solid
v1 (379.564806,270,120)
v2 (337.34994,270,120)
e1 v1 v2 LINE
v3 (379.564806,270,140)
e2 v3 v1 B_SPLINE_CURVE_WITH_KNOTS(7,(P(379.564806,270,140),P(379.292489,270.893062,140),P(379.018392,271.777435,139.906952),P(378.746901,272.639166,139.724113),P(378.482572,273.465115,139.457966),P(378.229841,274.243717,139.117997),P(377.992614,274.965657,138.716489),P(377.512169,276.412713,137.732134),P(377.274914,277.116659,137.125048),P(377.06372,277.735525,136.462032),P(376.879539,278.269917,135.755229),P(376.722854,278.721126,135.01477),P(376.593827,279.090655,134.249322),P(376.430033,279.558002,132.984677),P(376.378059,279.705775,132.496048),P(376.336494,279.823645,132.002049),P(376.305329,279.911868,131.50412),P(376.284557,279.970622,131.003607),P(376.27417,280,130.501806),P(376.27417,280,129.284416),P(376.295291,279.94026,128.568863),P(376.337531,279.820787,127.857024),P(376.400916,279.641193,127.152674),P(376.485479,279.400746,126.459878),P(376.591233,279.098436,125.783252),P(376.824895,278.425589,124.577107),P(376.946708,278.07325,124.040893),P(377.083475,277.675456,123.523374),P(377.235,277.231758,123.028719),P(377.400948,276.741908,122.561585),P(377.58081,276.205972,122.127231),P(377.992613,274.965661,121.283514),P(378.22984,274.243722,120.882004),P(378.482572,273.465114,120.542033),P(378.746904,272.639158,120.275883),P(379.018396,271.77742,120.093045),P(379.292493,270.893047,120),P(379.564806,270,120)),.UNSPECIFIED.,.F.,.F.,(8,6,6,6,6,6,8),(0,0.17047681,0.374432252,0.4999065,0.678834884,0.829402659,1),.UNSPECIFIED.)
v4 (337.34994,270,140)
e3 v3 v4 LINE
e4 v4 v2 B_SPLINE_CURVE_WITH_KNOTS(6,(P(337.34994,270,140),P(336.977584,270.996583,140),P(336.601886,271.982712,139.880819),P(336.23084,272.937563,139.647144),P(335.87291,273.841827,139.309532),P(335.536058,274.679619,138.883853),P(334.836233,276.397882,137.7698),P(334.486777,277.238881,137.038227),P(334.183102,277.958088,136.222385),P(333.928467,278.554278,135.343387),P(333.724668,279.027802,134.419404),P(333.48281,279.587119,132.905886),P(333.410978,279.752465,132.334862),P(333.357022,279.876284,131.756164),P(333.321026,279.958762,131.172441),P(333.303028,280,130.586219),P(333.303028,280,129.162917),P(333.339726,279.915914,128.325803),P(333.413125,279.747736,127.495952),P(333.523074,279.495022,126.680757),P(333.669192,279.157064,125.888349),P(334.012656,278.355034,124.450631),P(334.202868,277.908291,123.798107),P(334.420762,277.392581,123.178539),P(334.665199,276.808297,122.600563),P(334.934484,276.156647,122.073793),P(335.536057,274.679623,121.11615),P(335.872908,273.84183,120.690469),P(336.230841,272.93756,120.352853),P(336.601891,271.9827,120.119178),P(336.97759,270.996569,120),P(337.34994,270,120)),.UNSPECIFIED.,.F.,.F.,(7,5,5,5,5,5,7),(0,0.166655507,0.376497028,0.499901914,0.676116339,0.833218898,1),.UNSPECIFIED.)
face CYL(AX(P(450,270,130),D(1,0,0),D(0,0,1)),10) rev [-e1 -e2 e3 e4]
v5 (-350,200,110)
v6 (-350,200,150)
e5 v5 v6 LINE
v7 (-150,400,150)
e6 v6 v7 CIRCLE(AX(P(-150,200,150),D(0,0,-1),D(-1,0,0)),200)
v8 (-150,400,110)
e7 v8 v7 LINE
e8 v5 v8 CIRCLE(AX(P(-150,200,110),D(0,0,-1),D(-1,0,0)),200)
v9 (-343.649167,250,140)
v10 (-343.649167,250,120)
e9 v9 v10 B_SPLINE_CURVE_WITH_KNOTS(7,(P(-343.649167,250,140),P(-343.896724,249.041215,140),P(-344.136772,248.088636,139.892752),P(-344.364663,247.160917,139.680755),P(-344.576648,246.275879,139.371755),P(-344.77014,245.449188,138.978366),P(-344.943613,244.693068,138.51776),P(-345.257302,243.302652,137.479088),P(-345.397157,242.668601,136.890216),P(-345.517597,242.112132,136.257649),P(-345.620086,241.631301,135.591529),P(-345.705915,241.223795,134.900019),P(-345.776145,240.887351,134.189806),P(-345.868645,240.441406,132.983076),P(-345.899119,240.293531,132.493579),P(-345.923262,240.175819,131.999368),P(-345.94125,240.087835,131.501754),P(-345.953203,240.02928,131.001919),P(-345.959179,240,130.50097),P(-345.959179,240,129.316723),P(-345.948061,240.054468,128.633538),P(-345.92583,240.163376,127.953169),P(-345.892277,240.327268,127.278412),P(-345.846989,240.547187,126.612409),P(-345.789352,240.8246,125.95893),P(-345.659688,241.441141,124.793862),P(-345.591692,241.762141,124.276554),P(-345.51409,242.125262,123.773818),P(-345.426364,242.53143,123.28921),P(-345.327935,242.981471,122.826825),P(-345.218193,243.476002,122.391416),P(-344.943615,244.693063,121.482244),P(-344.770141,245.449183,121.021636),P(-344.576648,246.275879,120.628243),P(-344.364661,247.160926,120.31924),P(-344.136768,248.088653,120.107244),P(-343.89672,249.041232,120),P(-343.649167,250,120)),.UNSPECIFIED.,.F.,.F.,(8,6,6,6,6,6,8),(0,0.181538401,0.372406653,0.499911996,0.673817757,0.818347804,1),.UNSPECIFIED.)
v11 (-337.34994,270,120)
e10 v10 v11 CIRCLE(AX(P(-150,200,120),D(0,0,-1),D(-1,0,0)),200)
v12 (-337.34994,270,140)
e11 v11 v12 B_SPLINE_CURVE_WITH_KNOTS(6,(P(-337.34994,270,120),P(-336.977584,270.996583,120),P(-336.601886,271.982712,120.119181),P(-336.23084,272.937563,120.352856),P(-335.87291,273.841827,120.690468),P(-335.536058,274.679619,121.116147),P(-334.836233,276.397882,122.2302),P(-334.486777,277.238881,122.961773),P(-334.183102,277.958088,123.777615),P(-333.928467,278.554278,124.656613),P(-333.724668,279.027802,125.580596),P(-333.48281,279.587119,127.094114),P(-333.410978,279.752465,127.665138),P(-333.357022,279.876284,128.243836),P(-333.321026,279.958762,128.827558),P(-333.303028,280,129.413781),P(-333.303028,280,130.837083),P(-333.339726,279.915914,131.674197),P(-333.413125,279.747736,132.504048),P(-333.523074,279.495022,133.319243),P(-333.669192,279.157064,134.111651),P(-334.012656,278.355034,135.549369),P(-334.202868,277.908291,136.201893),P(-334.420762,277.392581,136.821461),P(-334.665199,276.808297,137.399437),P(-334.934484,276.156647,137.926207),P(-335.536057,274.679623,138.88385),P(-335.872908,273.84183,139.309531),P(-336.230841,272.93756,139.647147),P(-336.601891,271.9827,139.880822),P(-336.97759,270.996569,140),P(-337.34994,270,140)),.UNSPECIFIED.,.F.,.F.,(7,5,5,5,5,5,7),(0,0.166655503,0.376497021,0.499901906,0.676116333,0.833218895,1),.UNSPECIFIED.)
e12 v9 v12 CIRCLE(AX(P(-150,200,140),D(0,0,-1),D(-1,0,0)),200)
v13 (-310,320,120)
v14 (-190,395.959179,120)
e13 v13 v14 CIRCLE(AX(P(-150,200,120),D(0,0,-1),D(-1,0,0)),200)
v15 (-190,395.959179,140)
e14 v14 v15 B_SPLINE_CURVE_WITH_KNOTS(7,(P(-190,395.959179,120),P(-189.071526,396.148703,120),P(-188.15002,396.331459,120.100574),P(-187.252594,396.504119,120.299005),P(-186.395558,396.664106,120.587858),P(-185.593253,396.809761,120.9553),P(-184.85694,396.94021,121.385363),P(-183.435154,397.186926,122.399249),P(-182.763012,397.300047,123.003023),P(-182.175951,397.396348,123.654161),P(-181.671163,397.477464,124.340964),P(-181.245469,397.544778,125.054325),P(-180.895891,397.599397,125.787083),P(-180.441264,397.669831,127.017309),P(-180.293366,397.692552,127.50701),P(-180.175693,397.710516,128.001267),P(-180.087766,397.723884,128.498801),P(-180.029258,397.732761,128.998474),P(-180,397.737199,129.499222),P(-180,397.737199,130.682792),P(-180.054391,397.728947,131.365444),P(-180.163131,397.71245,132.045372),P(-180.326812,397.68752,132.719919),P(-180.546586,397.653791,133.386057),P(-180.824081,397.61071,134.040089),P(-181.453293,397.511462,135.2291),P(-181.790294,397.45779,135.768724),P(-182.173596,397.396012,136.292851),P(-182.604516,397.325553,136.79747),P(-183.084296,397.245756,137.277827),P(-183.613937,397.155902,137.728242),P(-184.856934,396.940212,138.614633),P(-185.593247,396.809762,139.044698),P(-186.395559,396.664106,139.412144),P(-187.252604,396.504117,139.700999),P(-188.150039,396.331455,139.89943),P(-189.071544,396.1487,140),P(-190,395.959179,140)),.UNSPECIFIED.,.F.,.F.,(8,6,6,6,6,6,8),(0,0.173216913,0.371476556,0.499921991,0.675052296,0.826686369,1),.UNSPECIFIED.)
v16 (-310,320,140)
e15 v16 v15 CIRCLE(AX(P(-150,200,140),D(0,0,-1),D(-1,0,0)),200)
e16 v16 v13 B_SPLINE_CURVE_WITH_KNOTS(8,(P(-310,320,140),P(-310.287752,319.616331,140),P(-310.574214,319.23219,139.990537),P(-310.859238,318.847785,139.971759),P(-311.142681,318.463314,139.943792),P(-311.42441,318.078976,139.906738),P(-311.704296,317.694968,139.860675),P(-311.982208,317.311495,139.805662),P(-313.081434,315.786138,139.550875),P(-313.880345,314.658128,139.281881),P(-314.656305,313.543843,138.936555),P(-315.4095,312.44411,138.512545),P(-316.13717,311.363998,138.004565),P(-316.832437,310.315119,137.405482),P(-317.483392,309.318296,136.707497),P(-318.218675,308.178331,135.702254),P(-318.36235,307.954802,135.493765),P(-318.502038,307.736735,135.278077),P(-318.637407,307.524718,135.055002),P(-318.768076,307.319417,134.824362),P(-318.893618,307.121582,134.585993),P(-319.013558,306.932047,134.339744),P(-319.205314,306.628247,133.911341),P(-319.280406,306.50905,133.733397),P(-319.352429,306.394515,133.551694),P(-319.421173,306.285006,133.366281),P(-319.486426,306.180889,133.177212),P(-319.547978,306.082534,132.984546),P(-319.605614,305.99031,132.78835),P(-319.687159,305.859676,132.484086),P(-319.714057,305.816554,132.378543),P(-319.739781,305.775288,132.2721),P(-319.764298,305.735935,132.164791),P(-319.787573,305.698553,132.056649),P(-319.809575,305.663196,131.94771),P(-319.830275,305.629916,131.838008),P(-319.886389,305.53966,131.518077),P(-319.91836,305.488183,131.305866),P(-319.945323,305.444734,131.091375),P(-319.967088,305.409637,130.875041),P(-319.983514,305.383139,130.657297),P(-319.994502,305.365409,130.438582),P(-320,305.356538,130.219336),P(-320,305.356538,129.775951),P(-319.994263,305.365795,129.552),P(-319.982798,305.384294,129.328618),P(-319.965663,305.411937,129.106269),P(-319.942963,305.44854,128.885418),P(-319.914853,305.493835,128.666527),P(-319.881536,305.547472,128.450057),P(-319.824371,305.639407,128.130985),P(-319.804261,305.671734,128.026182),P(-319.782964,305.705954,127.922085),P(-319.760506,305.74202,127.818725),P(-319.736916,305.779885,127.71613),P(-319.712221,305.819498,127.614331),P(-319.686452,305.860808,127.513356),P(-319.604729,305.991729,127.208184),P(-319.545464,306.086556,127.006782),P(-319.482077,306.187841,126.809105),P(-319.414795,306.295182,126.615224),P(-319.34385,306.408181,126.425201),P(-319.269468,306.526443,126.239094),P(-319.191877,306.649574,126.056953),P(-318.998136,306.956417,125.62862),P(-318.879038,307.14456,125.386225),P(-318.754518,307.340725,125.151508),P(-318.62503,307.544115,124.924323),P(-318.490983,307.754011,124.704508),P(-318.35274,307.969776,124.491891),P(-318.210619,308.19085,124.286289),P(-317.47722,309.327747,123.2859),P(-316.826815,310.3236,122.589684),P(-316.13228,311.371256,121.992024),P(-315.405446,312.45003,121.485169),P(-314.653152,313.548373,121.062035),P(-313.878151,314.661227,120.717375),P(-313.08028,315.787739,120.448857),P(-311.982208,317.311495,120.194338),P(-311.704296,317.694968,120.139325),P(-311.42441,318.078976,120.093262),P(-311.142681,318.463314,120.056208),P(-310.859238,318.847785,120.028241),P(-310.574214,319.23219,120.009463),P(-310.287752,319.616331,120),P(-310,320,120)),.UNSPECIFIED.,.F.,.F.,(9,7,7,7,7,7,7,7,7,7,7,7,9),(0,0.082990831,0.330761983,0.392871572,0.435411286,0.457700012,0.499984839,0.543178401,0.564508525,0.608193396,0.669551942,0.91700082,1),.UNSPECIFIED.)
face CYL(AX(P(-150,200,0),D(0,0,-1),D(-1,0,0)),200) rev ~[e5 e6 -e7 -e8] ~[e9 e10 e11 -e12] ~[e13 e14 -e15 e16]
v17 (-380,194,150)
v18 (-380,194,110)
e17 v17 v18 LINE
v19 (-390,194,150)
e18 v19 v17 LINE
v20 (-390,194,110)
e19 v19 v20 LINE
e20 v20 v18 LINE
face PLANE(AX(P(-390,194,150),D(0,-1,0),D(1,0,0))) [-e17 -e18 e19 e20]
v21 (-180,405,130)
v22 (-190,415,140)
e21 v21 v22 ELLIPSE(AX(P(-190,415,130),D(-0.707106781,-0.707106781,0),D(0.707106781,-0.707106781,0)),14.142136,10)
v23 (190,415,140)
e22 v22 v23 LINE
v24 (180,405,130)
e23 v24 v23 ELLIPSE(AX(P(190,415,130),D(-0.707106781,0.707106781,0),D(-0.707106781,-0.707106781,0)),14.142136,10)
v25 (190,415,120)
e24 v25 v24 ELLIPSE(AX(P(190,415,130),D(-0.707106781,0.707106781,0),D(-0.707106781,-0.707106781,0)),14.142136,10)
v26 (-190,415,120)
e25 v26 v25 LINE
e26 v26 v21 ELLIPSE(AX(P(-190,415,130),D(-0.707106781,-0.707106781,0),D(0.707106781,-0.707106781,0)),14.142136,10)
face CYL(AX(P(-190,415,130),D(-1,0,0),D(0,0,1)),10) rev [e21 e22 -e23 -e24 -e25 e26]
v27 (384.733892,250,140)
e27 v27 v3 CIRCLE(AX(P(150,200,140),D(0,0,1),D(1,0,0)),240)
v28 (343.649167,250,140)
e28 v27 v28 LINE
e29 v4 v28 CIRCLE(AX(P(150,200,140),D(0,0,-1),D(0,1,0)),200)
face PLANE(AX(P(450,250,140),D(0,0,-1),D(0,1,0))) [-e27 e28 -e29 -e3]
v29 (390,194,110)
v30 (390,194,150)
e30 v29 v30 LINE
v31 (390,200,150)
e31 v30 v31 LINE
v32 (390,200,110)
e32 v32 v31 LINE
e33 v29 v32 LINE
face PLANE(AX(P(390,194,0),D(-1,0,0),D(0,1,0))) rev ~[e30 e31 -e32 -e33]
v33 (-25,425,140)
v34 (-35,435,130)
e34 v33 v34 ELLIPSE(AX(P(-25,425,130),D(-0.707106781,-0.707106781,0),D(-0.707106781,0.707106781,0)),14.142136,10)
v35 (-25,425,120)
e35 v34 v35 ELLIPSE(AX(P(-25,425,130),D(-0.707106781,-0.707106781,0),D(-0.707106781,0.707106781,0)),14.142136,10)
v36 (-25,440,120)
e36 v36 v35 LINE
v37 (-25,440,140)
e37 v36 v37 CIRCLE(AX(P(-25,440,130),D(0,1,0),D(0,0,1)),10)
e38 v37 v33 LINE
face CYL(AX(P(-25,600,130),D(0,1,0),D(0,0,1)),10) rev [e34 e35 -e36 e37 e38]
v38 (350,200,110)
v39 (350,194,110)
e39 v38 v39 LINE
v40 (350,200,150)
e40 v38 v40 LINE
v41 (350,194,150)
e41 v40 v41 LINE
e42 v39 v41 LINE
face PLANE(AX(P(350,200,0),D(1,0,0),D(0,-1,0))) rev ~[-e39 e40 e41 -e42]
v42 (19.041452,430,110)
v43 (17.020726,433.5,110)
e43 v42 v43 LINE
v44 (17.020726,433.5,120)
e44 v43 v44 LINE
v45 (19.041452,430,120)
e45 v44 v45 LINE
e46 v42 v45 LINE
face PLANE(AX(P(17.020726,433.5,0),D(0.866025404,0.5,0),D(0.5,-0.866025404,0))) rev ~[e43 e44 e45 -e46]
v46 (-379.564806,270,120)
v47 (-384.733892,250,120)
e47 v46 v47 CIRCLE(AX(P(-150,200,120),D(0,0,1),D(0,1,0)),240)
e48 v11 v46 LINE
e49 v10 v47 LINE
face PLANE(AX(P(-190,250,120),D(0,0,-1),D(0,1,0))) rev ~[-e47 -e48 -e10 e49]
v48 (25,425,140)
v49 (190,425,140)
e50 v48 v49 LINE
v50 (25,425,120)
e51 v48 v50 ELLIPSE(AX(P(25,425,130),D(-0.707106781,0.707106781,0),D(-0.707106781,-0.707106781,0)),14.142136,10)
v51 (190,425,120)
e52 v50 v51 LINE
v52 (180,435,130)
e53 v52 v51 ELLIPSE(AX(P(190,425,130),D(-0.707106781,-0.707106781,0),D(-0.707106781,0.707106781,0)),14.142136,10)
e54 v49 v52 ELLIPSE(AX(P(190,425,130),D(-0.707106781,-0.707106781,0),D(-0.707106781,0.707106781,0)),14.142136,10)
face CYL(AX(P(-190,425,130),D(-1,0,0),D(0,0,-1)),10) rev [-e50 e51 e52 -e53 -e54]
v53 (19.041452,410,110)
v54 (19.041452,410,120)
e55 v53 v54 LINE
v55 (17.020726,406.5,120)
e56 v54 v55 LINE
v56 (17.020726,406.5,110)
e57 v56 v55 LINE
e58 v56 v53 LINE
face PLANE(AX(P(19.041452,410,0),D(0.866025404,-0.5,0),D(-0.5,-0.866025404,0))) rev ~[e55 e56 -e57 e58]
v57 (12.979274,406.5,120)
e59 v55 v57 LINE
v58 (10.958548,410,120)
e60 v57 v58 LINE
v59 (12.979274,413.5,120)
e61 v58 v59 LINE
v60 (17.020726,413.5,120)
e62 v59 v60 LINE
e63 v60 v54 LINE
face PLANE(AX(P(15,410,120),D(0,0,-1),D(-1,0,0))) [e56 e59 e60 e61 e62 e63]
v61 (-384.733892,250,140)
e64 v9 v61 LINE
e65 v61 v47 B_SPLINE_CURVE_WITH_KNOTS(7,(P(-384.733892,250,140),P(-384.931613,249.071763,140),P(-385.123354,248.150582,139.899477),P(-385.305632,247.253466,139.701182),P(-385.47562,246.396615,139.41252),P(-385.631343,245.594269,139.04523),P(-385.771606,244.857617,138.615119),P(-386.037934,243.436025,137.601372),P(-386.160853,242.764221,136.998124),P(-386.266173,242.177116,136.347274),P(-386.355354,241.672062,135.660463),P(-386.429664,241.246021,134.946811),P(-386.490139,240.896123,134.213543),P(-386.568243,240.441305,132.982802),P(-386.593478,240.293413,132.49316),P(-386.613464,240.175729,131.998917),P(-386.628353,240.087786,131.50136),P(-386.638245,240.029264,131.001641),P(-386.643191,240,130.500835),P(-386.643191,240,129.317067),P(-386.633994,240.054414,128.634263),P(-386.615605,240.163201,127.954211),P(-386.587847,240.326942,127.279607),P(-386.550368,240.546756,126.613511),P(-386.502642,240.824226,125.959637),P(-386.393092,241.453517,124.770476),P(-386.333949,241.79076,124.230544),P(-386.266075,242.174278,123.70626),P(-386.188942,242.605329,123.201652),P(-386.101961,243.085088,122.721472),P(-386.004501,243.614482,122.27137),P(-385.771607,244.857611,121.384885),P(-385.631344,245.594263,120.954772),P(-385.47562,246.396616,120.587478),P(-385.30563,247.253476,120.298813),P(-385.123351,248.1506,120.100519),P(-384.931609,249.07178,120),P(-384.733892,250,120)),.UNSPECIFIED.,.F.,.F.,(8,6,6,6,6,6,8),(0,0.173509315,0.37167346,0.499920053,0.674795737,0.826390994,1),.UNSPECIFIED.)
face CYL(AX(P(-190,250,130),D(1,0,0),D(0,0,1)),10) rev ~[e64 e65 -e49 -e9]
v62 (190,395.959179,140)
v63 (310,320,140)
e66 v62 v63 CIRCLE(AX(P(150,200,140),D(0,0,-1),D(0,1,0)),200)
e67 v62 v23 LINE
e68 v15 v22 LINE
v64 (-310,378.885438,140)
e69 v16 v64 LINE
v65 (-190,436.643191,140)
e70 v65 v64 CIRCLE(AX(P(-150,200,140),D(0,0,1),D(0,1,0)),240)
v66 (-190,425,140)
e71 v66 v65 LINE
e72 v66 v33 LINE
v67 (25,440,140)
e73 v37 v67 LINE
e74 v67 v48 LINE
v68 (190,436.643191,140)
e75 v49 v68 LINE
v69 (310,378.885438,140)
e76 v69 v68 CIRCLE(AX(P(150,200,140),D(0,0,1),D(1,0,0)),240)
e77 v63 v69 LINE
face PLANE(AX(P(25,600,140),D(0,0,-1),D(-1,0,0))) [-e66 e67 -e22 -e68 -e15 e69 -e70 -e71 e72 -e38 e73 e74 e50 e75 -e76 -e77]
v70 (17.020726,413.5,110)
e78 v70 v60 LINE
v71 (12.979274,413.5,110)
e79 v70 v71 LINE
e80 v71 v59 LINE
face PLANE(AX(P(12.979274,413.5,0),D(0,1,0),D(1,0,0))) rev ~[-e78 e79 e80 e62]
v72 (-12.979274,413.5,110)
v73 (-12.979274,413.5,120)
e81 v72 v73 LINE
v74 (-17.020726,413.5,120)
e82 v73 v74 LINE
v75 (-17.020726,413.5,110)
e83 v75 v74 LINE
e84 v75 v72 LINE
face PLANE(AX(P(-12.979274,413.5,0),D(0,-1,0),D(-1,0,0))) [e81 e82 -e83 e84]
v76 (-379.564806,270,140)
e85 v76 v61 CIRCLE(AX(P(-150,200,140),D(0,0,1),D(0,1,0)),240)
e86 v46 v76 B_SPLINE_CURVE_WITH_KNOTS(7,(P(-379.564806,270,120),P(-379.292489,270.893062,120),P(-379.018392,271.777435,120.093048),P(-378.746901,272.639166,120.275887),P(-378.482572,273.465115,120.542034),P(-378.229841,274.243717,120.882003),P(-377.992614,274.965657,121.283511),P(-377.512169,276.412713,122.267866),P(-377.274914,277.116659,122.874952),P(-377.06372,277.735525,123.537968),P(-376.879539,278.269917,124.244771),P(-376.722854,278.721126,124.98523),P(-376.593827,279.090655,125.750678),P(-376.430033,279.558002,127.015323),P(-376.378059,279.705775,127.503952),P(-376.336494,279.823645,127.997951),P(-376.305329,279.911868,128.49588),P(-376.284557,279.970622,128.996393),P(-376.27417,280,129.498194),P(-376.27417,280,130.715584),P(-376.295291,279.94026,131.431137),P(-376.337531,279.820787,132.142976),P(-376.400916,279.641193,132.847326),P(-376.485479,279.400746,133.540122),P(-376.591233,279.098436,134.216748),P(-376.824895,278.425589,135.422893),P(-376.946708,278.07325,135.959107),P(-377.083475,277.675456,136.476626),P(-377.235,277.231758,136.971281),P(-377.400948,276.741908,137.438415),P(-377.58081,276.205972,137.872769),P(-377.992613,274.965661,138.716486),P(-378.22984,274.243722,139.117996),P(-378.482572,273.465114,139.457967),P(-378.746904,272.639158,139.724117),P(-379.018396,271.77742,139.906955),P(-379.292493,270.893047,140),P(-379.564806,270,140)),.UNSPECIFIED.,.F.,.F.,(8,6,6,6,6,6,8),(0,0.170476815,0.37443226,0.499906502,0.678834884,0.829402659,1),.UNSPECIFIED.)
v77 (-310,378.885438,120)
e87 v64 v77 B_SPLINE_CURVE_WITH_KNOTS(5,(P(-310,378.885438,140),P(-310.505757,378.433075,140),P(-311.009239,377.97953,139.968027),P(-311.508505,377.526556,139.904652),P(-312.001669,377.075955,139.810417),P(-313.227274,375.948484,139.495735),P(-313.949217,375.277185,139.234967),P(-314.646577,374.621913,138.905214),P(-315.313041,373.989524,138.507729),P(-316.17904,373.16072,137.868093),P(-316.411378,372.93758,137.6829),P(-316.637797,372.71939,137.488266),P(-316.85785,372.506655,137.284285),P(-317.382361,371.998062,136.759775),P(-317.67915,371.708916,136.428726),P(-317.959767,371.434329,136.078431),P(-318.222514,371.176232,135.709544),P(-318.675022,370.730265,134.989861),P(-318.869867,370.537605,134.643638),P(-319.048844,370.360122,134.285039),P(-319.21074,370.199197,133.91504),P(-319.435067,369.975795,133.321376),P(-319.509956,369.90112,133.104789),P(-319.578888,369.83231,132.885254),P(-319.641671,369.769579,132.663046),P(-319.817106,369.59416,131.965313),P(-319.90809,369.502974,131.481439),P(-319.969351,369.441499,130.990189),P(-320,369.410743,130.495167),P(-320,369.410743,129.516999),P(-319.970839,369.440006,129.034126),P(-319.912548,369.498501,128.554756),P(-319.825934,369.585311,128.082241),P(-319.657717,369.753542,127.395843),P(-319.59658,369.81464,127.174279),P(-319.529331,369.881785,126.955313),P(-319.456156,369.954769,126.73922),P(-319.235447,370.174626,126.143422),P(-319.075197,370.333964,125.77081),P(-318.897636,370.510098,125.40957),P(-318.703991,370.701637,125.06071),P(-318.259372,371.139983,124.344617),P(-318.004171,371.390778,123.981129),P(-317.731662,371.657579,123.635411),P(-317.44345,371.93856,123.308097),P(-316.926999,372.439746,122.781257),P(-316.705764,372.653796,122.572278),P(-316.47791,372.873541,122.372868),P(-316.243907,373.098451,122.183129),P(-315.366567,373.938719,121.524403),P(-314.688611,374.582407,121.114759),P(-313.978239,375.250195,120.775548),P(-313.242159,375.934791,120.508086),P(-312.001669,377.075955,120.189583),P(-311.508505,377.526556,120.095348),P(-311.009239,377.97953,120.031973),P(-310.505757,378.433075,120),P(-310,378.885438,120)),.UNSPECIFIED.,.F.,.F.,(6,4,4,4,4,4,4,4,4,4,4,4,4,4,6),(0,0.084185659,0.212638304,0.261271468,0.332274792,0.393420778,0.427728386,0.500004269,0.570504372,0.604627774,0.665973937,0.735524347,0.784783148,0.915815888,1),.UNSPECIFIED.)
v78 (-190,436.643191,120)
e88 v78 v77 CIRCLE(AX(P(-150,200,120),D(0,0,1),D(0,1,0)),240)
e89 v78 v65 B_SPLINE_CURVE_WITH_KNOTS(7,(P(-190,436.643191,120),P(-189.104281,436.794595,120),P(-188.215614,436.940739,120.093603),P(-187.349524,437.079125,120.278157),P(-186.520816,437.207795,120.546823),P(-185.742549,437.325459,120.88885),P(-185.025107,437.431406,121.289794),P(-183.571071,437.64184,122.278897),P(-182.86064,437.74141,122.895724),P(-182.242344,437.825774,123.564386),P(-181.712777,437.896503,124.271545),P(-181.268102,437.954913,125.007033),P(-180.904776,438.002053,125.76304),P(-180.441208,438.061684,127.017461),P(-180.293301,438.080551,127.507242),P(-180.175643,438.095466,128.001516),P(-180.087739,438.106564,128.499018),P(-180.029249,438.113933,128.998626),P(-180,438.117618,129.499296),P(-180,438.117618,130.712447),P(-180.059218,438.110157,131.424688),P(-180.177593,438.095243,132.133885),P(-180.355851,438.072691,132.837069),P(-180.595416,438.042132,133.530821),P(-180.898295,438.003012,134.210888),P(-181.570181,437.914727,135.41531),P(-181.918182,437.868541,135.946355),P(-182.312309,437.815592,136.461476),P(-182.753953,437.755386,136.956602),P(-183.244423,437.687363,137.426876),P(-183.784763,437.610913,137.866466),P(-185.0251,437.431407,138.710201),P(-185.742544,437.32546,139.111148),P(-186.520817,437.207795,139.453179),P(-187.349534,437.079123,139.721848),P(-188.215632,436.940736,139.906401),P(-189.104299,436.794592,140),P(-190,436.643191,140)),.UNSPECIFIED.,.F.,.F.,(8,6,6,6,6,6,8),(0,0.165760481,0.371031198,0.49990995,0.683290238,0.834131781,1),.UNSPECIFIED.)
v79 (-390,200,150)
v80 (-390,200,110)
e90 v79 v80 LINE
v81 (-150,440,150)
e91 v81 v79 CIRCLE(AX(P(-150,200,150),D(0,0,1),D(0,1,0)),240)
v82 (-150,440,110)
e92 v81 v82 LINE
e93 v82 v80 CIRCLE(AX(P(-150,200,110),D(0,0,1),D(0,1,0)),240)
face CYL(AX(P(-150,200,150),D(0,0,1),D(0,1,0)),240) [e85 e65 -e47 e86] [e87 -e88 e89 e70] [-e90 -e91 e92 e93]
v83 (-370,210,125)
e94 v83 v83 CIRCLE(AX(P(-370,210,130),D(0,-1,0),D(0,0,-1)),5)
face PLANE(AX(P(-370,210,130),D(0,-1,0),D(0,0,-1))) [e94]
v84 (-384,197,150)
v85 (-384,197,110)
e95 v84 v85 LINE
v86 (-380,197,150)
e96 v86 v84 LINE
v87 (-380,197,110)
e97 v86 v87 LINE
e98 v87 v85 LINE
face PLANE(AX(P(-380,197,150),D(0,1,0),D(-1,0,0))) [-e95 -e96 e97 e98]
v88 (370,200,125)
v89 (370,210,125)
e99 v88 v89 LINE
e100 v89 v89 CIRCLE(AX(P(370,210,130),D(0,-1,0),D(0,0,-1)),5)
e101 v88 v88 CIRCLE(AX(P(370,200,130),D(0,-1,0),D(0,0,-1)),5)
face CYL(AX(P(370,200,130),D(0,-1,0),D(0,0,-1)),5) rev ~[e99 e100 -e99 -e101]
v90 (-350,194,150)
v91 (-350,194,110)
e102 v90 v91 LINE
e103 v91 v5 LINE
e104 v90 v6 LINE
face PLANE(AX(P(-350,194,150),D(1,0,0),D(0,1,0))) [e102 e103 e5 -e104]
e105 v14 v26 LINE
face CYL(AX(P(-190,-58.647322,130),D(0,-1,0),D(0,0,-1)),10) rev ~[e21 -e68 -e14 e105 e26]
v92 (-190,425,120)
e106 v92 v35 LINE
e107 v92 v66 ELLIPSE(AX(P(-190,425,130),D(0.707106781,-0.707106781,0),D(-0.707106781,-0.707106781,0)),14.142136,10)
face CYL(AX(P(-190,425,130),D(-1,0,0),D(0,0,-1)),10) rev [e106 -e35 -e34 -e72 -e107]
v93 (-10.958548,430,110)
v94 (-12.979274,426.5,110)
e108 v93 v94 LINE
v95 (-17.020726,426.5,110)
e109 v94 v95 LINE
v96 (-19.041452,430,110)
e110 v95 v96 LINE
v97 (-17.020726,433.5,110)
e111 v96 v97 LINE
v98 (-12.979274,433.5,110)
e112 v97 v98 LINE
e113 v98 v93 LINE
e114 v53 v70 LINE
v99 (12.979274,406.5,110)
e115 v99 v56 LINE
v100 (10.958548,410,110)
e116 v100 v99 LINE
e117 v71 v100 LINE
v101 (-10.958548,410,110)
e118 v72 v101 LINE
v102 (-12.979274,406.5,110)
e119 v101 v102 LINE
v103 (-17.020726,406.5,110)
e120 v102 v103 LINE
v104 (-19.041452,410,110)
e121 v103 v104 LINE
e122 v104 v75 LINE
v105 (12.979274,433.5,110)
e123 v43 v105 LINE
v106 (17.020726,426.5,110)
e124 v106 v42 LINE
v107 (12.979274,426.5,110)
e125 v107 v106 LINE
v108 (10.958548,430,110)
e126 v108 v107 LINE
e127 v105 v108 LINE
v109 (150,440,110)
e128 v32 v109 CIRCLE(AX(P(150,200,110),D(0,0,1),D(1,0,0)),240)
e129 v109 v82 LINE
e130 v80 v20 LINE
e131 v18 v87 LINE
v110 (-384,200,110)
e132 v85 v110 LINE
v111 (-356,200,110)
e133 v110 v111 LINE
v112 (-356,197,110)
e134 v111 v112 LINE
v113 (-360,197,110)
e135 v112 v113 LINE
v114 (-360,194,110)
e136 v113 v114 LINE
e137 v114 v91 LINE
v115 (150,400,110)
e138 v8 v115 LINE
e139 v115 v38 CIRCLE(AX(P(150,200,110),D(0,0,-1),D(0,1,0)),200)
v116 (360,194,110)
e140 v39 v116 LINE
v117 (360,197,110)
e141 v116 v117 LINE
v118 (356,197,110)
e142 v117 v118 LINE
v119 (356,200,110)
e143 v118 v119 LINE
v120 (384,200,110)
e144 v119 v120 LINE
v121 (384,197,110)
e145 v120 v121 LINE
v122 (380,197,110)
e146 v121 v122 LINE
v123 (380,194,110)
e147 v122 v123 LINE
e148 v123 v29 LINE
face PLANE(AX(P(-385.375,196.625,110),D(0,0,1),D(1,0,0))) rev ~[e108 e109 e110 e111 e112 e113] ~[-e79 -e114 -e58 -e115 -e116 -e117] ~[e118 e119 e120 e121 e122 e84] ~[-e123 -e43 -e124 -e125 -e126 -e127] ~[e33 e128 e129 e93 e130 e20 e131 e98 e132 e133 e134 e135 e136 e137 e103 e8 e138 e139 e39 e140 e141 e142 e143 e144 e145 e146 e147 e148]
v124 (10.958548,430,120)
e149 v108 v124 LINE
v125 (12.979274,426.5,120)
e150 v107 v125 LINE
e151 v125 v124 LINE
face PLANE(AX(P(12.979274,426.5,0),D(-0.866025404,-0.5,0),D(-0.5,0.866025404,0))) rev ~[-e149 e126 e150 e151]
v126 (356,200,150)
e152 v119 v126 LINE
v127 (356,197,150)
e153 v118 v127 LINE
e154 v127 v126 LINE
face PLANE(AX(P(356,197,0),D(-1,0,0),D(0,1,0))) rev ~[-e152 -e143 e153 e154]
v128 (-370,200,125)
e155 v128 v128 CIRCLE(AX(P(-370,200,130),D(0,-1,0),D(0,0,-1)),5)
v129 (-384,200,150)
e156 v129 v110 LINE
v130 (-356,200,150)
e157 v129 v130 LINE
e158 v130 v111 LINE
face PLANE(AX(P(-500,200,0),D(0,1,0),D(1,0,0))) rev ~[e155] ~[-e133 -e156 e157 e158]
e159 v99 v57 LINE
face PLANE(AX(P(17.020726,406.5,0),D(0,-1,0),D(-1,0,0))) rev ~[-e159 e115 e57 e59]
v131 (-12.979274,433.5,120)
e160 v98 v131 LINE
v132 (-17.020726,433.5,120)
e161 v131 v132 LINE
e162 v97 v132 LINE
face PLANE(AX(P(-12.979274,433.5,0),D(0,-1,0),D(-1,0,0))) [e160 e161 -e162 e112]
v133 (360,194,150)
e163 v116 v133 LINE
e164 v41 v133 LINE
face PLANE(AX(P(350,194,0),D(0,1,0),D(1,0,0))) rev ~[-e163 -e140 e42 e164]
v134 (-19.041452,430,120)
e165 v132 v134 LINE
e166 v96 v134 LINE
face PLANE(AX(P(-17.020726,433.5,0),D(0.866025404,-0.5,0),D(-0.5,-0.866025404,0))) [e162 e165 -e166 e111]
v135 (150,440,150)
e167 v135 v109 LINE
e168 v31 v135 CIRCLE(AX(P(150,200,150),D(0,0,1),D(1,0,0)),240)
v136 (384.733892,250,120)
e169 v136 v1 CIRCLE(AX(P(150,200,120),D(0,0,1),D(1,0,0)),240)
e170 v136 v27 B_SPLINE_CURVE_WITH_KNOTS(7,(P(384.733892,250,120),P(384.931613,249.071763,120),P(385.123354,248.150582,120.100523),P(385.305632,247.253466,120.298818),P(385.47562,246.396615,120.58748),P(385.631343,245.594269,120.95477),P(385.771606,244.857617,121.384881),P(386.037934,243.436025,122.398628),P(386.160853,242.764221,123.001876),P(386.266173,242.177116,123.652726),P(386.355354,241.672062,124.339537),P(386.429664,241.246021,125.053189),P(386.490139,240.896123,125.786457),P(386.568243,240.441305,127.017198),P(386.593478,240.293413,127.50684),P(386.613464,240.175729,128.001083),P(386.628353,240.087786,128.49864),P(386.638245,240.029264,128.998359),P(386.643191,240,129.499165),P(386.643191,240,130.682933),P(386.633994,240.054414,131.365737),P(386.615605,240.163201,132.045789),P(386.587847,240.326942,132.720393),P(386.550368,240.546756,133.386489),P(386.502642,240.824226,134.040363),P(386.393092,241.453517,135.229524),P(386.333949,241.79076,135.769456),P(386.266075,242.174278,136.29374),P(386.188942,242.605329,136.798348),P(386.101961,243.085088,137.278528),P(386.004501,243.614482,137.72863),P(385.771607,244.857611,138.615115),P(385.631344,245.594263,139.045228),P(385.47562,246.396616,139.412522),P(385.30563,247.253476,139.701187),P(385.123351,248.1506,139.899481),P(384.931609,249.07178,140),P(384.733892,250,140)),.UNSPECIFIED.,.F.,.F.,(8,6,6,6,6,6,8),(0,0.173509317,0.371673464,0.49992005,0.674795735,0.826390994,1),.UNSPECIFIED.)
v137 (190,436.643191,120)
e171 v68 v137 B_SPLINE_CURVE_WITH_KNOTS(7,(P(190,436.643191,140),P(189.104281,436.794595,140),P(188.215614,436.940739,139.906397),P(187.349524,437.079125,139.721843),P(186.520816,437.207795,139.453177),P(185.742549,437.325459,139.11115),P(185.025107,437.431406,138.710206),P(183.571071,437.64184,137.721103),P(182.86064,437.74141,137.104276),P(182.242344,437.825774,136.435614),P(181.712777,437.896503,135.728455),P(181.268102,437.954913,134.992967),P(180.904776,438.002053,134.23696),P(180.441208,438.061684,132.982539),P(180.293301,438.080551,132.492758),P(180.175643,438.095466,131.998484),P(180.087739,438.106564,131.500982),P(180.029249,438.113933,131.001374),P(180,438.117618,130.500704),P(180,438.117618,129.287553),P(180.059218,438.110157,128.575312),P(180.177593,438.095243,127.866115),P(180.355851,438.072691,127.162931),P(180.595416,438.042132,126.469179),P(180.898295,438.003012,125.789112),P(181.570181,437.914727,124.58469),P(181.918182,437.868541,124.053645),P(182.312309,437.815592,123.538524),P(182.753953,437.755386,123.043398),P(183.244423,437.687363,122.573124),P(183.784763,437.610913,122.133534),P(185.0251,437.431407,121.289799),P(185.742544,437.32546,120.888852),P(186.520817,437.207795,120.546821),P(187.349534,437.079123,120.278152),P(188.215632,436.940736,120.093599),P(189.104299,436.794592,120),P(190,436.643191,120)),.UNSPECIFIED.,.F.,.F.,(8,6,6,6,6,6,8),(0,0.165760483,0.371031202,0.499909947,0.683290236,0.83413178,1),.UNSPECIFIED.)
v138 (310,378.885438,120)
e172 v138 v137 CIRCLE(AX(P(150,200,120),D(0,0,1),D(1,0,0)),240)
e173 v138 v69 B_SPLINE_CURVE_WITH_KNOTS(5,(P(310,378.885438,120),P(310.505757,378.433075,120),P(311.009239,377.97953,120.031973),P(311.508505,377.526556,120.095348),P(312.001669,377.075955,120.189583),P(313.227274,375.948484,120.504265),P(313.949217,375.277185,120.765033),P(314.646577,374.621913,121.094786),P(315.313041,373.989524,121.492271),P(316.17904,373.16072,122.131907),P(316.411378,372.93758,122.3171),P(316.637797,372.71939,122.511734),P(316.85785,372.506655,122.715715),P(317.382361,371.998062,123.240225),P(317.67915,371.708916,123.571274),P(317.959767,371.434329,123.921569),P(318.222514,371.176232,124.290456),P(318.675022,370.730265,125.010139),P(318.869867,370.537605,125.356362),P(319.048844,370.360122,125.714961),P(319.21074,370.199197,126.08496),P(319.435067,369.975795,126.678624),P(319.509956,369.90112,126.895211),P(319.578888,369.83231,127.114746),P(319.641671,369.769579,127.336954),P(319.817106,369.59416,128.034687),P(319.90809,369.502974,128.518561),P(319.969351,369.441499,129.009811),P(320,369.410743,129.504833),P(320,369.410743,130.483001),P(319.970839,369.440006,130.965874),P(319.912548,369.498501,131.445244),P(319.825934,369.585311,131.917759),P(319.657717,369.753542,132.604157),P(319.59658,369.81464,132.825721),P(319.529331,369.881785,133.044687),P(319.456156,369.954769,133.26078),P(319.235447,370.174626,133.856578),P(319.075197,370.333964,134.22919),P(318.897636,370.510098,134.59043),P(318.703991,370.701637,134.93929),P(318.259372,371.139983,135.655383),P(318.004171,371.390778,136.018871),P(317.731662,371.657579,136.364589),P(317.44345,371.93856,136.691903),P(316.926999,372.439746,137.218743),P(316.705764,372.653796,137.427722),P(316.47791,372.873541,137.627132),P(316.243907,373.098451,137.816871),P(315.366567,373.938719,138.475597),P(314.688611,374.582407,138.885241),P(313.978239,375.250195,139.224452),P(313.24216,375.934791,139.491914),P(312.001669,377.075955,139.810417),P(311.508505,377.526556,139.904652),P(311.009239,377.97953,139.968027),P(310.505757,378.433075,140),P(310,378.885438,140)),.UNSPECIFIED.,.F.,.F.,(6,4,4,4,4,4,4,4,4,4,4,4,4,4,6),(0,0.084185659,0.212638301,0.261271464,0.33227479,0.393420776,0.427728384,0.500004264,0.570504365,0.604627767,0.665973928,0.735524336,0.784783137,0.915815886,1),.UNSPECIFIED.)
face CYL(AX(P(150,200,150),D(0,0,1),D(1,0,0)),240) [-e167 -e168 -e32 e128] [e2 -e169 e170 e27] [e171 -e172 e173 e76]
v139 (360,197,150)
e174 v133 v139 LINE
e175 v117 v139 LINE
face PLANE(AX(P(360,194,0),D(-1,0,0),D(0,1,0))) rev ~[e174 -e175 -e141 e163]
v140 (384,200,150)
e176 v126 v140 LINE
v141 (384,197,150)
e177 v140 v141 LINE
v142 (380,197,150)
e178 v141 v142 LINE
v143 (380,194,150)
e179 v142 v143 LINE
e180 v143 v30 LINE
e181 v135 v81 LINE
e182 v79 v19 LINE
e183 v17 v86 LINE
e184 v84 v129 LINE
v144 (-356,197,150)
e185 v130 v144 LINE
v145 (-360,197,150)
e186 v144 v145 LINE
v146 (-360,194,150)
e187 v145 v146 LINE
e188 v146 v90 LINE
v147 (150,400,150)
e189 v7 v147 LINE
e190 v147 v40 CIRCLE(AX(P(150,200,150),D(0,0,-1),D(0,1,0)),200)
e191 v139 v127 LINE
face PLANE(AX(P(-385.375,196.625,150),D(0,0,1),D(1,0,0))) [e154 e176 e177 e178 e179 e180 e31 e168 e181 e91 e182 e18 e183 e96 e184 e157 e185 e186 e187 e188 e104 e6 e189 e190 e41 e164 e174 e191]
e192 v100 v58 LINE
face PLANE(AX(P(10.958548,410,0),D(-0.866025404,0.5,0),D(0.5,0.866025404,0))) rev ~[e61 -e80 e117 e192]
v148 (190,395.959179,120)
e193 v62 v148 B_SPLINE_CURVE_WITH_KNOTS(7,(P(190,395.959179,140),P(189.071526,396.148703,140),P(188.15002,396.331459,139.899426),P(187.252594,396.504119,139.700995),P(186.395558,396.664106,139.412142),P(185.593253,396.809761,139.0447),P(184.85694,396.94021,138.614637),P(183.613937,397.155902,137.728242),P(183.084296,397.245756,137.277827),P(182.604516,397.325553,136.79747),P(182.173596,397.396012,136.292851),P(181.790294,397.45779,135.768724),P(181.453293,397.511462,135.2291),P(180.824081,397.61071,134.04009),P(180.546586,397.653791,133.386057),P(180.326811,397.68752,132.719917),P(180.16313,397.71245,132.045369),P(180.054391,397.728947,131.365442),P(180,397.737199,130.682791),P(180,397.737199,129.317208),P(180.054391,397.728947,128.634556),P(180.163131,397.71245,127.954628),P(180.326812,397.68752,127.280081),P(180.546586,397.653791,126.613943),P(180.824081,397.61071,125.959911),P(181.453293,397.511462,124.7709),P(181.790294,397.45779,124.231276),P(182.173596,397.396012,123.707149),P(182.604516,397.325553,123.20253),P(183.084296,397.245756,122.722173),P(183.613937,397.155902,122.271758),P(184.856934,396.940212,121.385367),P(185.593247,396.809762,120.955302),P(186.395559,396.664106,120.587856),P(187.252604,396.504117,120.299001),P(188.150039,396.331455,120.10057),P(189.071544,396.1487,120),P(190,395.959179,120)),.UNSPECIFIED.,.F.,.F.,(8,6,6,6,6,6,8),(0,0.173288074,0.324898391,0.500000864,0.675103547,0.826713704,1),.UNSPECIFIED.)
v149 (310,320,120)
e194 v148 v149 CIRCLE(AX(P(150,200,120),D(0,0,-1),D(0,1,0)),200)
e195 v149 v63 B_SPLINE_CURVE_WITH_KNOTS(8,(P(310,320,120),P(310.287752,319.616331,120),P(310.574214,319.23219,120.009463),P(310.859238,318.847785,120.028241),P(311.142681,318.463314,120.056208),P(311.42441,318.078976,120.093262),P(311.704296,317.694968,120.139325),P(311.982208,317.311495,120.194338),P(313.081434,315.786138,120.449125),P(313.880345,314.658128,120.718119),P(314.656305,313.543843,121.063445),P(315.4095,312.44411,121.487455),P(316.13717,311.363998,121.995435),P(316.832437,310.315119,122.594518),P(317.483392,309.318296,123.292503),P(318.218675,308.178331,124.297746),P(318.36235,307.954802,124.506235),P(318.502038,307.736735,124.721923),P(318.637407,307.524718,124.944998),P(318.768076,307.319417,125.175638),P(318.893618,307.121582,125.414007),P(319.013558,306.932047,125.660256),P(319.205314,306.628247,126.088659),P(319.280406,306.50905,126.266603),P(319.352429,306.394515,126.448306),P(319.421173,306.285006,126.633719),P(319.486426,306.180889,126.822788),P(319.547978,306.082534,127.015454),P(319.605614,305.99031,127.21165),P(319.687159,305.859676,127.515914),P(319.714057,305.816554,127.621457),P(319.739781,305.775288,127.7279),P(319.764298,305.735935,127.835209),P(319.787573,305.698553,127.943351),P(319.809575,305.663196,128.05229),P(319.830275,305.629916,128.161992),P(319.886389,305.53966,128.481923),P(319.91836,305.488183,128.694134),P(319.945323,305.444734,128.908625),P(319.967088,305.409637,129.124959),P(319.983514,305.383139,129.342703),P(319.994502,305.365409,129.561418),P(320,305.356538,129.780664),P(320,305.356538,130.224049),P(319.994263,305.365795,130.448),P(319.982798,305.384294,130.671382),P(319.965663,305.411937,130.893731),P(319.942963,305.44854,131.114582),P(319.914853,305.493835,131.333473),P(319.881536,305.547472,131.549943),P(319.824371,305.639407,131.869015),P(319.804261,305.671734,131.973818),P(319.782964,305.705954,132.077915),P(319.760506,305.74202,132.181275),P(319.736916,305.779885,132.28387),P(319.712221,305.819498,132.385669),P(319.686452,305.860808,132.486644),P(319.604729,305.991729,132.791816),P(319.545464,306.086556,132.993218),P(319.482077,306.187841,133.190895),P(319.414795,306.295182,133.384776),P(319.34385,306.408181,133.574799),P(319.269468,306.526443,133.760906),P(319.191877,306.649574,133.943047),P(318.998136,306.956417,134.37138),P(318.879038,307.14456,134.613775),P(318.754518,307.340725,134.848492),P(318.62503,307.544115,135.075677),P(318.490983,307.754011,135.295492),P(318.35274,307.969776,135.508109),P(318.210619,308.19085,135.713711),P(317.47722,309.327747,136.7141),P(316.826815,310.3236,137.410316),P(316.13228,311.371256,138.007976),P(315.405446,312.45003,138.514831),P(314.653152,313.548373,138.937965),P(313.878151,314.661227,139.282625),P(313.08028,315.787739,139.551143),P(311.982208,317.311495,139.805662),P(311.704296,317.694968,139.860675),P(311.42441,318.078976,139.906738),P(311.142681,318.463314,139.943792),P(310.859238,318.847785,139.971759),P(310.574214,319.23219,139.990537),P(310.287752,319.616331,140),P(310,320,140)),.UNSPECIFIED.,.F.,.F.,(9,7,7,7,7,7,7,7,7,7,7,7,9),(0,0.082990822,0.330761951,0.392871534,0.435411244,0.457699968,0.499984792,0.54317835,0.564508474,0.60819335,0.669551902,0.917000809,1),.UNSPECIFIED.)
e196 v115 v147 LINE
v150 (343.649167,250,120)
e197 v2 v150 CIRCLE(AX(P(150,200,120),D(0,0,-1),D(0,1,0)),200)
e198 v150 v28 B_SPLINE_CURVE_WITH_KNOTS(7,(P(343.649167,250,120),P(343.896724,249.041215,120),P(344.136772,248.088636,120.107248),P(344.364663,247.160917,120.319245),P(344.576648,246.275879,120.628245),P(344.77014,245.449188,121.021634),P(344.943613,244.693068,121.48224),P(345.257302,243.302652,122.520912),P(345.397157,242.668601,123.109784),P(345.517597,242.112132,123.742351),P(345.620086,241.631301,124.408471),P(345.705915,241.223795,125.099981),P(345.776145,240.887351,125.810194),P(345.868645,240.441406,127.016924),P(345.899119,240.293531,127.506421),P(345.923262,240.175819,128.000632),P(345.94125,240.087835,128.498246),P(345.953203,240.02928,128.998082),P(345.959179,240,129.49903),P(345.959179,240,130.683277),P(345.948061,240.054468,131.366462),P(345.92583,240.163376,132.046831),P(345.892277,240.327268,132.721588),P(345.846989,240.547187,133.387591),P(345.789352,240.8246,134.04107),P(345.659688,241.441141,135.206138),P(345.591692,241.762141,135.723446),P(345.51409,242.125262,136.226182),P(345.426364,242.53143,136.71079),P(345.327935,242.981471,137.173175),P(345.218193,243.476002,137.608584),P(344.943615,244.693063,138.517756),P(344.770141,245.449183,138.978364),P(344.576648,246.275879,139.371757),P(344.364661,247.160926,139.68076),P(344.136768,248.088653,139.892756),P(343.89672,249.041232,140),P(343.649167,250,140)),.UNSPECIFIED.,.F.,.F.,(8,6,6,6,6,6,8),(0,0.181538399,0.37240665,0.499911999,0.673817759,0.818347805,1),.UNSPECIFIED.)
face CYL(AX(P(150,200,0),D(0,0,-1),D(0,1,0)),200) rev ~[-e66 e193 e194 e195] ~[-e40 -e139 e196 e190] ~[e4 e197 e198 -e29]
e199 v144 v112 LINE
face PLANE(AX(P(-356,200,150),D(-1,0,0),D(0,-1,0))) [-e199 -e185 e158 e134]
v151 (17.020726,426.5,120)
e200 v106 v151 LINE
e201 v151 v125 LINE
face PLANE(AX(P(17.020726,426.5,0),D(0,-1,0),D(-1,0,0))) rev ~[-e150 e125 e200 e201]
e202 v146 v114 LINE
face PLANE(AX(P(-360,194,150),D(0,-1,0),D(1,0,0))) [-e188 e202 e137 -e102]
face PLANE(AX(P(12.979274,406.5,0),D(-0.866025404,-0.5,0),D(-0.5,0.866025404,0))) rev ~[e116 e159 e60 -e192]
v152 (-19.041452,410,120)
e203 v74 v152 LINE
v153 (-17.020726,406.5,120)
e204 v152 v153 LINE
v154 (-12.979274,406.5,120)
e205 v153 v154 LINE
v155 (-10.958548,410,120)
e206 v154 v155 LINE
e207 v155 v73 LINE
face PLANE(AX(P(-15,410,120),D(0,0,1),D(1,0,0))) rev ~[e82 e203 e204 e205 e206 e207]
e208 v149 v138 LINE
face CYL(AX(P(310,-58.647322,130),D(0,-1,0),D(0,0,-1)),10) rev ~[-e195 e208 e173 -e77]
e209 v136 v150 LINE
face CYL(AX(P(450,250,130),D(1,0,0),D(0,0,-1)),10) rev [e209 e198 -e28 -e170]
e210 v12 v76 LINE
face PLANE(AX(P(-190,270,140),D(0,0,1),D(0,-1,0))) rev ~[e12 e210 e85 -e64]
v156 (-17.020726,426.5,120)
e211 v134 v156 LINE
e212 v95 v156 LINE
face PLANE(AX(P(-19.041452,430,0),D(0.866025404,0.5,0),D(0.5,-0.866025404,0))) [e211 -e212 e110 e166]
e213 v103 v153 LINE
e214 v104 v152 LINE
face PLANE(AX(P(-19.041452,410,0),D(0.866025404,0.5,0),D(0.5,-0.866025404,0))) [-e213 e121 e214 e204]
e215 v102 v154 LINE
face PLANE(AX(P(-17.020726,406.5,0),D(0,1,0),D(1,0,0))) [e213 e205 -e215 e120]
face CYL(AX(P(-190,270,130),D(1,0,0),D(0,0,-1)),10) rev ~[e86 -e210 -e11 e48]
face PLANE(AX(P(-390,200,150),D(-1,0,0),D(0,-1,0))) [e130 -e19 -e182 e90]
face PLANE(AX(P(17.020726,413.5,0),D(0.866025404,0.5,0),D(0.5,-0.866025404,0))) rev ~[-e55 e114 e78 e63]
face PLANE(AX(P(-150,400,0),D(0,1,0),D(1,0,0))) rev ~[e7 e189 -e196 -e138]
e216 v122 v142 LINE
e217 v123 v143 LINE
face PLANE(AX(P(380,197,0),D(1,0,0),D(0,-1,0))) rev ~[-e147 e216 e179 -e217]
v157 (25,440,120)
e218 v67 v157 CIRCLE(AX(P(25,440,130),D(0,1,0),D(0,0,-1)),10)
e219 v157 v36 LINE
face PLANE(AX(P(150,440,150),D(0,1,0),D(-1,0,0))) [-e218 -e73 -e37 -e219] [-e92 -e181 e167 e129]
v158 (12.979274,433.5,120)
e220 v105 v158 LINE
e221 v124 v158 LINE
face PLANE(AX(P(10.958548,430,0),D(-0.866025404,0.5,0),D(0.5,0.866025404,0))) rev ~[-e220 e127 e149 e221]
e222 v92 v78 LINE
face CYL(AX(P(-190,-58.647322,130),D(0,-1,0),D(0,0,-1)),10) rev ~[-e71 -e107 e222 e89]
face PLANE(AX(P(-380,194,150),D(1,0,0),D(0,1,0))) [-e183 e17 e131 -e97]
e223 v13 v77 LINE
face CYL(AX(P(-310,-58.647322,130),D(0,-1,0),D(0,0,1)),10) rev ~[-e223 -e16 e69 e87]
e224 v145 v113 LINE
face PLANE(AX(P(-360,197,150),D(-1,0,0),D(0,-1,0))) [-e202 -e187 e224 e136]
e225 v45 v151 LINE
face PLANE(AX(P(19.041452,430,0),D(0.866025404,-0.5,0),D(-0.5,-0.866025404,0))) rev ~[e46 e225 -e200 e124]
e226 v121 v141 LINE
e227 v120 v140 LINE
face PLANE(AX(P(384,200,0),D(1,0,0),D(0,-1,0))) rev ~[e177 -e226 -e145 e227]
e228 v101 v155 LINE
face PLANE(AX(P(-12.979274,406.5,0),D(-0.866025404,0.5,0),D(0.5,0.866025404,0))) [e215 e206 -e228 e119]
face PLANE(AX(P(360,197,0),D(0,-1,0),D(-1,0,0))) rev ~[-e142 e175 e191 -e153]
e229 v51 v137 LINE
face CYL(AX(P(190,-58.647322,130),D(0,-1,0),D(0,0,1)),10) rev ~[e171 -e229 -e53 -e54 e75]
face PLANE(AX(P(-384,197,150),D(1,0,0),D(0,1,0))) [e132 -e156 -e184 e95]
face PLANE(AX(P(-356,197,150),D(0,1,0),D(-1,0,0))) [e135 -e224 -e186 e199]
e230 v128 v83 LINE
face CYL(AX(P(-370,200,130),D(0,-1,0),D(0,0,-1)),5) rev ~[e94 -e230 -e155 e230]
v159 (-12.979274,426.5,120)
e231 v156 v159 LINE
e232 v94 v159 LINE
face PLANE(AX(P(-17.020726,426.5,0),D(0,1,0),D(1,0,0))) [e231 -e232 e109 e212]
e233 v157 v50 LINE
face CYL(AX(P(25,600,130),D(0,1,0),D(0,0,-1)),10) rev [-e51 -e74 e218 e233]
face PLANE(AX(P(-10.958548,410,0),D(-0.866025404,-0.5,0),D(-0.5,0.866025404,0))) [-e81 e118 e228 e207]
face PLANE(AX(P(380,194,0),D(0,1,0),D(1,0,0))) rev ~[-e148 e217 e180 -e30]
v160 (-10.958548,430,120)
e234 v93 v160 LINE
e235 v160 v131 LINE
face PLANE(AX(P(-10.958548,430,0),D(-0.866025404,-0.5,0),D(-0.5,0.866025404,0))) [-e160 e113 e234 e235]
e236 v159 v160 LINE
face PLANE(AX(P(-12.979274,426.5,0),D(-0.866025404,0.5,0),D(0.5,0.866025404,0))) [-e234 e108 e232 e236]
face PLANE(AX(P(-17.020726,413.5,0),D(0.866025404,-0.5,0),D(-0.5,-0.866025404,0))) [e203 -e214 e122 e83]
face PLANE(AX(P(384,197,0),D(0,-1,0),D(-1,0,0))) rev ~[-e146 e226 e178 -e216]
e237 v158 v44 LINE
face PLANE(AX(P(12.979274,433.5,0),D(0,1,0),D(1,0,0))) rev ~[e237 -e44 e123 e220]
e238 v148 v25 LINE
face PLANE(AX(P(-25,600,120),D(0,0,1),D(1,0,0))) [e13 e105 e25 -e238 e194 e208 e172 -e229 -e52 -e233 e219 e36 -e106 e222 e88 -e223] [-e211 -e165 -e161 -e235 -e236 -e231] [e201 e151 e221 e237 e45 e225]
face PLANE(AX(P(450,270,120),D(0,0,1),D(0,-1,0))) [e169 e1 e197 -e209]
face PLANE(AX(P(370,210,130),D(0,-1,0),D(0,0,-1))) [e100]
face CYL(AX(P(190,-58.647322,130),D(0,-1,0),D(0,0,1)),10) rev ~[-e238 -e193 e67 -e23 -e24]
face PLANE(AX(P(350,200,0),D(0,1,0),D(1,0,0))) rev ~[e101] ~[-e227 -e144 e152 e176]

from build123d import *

# Parameters (mm, degrees)
AUFSATZ_LINEAR_AUSTRAGEN1_DEPTH      = 150
SCHNITT_LINEAR_AUSTRAGEN2_DEPTH      = 658.647321898
SCHNITT_LINEAR_AUSTRAGEN2_DEPTH_BACK = 658.647321898
SCHNITT_LINEAR_AUSTRAGEN7_REACH      = 928.607
SCHNITT_LINEAR_AUSTRAGEN7_END_RADIUS = 10
SCHNITT_LINEAR_AUSTRAGEN8_DEPTH      = 180
AUFSATZ_LINEAR_AUSTRAGEN2_DEPTH      = 150
SKIZZE15_W                           = 1390.722154613
SKIZZE15_H                           = 110
SCHNITT_LINEAR_AUSTRAGEN16_DEPTH     = 1000
SCHNITT_LINEAR_AUSTRAGEN22_DEPTH     = 200
SCHNITT_LINEAR_AUSTRAGEN27_DEPTH     = 120
SKIZZE2_R                            = 5
SCHNITT_LINEAR_AUSTRAGEN28_DEPTH     = 10
AUFSATZ_LINEAR_AUSTRAGEN3_DEPTH      = 40
SCHNITT_LINEAR_AUSTRAGEN29_DEPTH     = 200
SCHNITT_LINEAR_START                 = 300
SCHNITT_LINEAR_AUSTRAGEN30_DEPTH     = 300


with BuildPart() as part:
    # Skizze1 → Aufsatz-Linear austragen1 (new body)
    with BuildSketch(Plane.XY):
        with BuildLine():
            Line((150, 600), (-150, 600))
            ThreePointArc((-150, 600), (-353.150600634, 544.571956871), (-500, 393.64916731))
            Line((-500, 393.64916731), (-500, 200))
            Line((-500, 200), (-350, 200))
            ThreePointArc((-350, 200), (-291.421356237, 341.421356237), (-150, 400))
            Line((-150, 400), (150, 400))
            ThreePointArc((150, 400), (291.421356237, 341.421356237), (350, 200))
            Line((350, 200), (500, 200))
            Line((500, 200), (500, 393.64916731))
            ThreePointArc((500, 393.64916731), (353.150600634, 544.571956871), (150, 600))
        make_face()
    extrude(amount=AUFSATZ_LINEAR_AUSTRAGEN1_DEPTH)

    # Skizze4 → Schnitt-Linear austragen2 (cut, two sides: drawn at the far end of the back side and taken through both)
    with BuildSketch(Plane(origin=(0, 600, 0), x_dir=(1, 0, 0), z_dir=(0, 1, 0)).offset(-SCHNITT_LINEAR_AUSTRAGEN2_DEPTH_BACK)):
        with BuildLine():
            Line((-310, -120), (-190, -120))
            ThreePointArc((-190, -120), (-180, -130), (-190, -140))
            Line((-190, -140), (-310, -140))
            ThreePointArc((-310, -140), (-320, -130), (-310, -120))
        make_face()
        with BuildLine():
            Line((190, -120), (310, -120))
            ThreePointArc((310, -120), (320, -130), (310, -140))
            Line((310, -140), (190, -140))
            ThreePointArc((190, -140), (180, -130), (190, -120))
        make_face()
    extrude(amount=SCHNITT_LINEAR_AUSTRAGEN2_DEPTH + SCHNITT_LINEAR_AUSTRAGEN2_DEPTH_BACK, mode=Mode.SUBTRACT)

    # Schnitt-Linear austragen7: up to this cylinder (the profile starts outside it)
    schnitt_linear_austragen7_end = Plane(origin=(190, 420, 130), z_dir=(0, 1, 0)) * Cylinder(SCHNITT_LINEAR_AUSTRAGEN7_END_RADIUS, 1878.214, mode=Mode.PRIVATE)
    # Skizze5 → Schnitt-Linear austragen7 (cut, up to the surface)
    with BuildSketch(Plane.ZY.offset(190), mode=Mode.PRIVATE) as schnitt_linear_austragen7_sk1:
        with BuildLine():
            Line((140, 425), (140, 415))
            ThreePointArc((140, 415), (130, 405), (120, 415))
            Line((120, 415), (120, 425))
            ThreePointArc((120, 425), (130, 435), (140, 425))
        make_face()
    schnitt_linear_austragen7_tool1 = extrude(schnitt_linear_austragen7_sk1.sketch, amount=-SCHNITT_LINEAR_AUSTRAGEN7_REACH, mode=Mode.PRIVATE) - schnitt_linear_austragen7_end
    add(schnitt_linear_austragen7_tool1.solids().sort_by_distance((-190, 420, 130))[0], mode=Mode.SUBTRACT)

    # Skizze3 → Schnitt-Linear austragen8 (cut)
    with BuildSketch(Plane(origin=(0, 600, 0), x_dir=(1, 0, 0), z_dir=(0, 1, 0))):
        with BuildLine():
            Line((-25, -120), (25, -120))
            ThreePointArc((25, -120), (35, -130), (25, -140))
            Line((25, -140), (-25, -140))
            ThreePointArc((-25, -140), (-35, -130), (-25, -120))
        make_face()
    extrude(amount=-SCHNITT_LINEAR_AUSTRAGEN8_DEPTH, mode=Mode.SUBTRACT)

    # Skizze11 → Aufsatz-Linear austragen2 (add)
    with BuildSketch(Plane.XY):
        Polygon((356, 200), (350, 200), (350, 194), (360, 194), (360, 197), (356, 197), align=None)
        Polygon((390, 194), (390, 200), (384, 200), (384, 197), (380, 197), (380, 194), align=None)
    extrude(amount=AUFSATZ_LINEAR_AUSTRAGEN2_DEPTH)

    # Skizze15 → Schnitt-Linear austragen16 (cut)
    with BuildSketch(Plane(origin=(0, 600, 0), x_dir=(1, 0, 0), z_dir=(0, 1, 0))):
        with Locations((37.447933541, -55)):
            Rectangle(SKIZZE15_W, SKIZZE15_H)
    extrude(amount=-SCHNITT_LINEAR_AUSTRAGEN16_DEPTH, mode=Mode.SUBTRACT)

    # Skizze17 → Schnitt-Linear austragen22 (cut)
    with BuildSketch(Plane.XY.offset(150)):
        with BuildLine():
            ThreePointArc((-728.904569039, 200), (-39.53876737, 889.365801669), (649.827034299, 200))
            Line((649.827034299, 200), (390, 200))
            ThreePointArc((390, 200), (319.705627485, 369.705627485), (150, 440))
            Line((150, 440), (-150, 440))
            ThreePointArc((-150, 440), (-319.705627485, 369.705627485), (-390, 200))
            Line((-390, 200), (-728.904569039, 200))
        make_face()
    extrude(amount=-SCHNITT_LINEAR_AUSTRAGEN22_DEPTH, mode=Mode.SUBTRACT)

    # Skizze9 → Schnitt-Linear austragen27 (cut)
    with BuildSketch(Plane(origin=(0, 0, 0), x_dir=(-1, 0, 0), z_dir=(0, 0, -1))):
        Polygon((-12.979274058, 426.5), (-10.958548116, 430), (-12.979274058, 433.5), (-17.020725942, 433.5), (-19.041451884, 430), (-17.020725942, 426.5), align=None)
        Polygon((17.020725942, 426.5), (12.979274058, 426.5), (10.958548116, 430), (12.979274058, 433.5), (17.020725942, 433.5), (19.041451884, 430), align=None)
        Polygon((-12.979274058, 406.5), (-10.958548116, 410), (-12.979274058, 413.5), (-17.020725942, 413.5), (-19.041451884, 410), (-17.020725942, 406.5), align=None)
        Polygon((17.020725942, 406.5), (12.979274058, 406.5), (10.958548116, 410), (12.979274058, 413.5), (17.020725942, 413.5), (19.041451884, 410), align=None)
    extrude(amount=-SCHNITT_LINEAR_AUSTRAGEN27_DEPTH, mode=Mode.SUBTRACT)

    # Skizze2 → Schnitt-Linear austragen28 (cut)
    with BuildSketch(Plane.XZ.offset(-200)):
        with Locations(Location((-370, 130, 0), (0, 0, 270))):
            Circle(SKIZZE2_R)
        with Locations(Location((370, 130, 0), (0, 0, 270))):
            Circle(SKIZZE2_R)
    extrude(amount=-SCHNITT_LINEAR_AUSTRAGEN28_DEPTH, mode=Mode.SUBTRACT)

    # Skizze21 → Aufsatz-Linear austragen3 (add)
    with BuildSketch(Plane.XY.offset(150)):
        Polygon((-384, 200), (-390, 200), (-390, 194), (-380, 194), (-380, 197), (-384, 197), align=None)
        Polygon((-350, 194), (-350, 200), (-356, 200), (-356, 197), (-360, 197), (-360, 194), align=None)
    extrude(amount=-AUFSATZ_LINEAR_AUSTRAGEN3_DEPTH)

    # Skizze22 → Schnitt-Linear austragen29 (cut)
    with BuildSketch(Plane.ZY.offset(190)):
        with BuildLine():
            Line((140, 270), (140, 250))
            ThreePointArc((140, 250), (130, 240), (120, 250))
            Line((120, 250), (120, 270))
            ThreePointArc((120, 270), (130, 280), (140, 270))
        make_face()
    extrude(amount=SCHNITT_LINEAR_AUSTRAGEN29_DEPTH, mode=Mode.SUBTRACT)

    # Skizze23 → Schnitt-Linear austragen30 (cut)
    with BuildSketch(Plane(origin=(150, 0, 0), x_dir=(0, 0, -1), z_dir=(1, 0, 0)).offset(SCHNITT_LINEAR_START)):
        with BuildLine():
            Line((-120, 270), (-120, 250))
            ThreePointArc((-120, 250), (-130, 240), (-140, 250))
            Line((-140, 250), (-140, 270))
            ThreePointArc((-140, 270), (-130, 280), (-120, 270))
        make_face()
    extrude(amount=-SCHNITT_LINEAR_AUSTRAGEN30_DEPTH, mode=Mode.SUBTRACT)


solid = part.part
